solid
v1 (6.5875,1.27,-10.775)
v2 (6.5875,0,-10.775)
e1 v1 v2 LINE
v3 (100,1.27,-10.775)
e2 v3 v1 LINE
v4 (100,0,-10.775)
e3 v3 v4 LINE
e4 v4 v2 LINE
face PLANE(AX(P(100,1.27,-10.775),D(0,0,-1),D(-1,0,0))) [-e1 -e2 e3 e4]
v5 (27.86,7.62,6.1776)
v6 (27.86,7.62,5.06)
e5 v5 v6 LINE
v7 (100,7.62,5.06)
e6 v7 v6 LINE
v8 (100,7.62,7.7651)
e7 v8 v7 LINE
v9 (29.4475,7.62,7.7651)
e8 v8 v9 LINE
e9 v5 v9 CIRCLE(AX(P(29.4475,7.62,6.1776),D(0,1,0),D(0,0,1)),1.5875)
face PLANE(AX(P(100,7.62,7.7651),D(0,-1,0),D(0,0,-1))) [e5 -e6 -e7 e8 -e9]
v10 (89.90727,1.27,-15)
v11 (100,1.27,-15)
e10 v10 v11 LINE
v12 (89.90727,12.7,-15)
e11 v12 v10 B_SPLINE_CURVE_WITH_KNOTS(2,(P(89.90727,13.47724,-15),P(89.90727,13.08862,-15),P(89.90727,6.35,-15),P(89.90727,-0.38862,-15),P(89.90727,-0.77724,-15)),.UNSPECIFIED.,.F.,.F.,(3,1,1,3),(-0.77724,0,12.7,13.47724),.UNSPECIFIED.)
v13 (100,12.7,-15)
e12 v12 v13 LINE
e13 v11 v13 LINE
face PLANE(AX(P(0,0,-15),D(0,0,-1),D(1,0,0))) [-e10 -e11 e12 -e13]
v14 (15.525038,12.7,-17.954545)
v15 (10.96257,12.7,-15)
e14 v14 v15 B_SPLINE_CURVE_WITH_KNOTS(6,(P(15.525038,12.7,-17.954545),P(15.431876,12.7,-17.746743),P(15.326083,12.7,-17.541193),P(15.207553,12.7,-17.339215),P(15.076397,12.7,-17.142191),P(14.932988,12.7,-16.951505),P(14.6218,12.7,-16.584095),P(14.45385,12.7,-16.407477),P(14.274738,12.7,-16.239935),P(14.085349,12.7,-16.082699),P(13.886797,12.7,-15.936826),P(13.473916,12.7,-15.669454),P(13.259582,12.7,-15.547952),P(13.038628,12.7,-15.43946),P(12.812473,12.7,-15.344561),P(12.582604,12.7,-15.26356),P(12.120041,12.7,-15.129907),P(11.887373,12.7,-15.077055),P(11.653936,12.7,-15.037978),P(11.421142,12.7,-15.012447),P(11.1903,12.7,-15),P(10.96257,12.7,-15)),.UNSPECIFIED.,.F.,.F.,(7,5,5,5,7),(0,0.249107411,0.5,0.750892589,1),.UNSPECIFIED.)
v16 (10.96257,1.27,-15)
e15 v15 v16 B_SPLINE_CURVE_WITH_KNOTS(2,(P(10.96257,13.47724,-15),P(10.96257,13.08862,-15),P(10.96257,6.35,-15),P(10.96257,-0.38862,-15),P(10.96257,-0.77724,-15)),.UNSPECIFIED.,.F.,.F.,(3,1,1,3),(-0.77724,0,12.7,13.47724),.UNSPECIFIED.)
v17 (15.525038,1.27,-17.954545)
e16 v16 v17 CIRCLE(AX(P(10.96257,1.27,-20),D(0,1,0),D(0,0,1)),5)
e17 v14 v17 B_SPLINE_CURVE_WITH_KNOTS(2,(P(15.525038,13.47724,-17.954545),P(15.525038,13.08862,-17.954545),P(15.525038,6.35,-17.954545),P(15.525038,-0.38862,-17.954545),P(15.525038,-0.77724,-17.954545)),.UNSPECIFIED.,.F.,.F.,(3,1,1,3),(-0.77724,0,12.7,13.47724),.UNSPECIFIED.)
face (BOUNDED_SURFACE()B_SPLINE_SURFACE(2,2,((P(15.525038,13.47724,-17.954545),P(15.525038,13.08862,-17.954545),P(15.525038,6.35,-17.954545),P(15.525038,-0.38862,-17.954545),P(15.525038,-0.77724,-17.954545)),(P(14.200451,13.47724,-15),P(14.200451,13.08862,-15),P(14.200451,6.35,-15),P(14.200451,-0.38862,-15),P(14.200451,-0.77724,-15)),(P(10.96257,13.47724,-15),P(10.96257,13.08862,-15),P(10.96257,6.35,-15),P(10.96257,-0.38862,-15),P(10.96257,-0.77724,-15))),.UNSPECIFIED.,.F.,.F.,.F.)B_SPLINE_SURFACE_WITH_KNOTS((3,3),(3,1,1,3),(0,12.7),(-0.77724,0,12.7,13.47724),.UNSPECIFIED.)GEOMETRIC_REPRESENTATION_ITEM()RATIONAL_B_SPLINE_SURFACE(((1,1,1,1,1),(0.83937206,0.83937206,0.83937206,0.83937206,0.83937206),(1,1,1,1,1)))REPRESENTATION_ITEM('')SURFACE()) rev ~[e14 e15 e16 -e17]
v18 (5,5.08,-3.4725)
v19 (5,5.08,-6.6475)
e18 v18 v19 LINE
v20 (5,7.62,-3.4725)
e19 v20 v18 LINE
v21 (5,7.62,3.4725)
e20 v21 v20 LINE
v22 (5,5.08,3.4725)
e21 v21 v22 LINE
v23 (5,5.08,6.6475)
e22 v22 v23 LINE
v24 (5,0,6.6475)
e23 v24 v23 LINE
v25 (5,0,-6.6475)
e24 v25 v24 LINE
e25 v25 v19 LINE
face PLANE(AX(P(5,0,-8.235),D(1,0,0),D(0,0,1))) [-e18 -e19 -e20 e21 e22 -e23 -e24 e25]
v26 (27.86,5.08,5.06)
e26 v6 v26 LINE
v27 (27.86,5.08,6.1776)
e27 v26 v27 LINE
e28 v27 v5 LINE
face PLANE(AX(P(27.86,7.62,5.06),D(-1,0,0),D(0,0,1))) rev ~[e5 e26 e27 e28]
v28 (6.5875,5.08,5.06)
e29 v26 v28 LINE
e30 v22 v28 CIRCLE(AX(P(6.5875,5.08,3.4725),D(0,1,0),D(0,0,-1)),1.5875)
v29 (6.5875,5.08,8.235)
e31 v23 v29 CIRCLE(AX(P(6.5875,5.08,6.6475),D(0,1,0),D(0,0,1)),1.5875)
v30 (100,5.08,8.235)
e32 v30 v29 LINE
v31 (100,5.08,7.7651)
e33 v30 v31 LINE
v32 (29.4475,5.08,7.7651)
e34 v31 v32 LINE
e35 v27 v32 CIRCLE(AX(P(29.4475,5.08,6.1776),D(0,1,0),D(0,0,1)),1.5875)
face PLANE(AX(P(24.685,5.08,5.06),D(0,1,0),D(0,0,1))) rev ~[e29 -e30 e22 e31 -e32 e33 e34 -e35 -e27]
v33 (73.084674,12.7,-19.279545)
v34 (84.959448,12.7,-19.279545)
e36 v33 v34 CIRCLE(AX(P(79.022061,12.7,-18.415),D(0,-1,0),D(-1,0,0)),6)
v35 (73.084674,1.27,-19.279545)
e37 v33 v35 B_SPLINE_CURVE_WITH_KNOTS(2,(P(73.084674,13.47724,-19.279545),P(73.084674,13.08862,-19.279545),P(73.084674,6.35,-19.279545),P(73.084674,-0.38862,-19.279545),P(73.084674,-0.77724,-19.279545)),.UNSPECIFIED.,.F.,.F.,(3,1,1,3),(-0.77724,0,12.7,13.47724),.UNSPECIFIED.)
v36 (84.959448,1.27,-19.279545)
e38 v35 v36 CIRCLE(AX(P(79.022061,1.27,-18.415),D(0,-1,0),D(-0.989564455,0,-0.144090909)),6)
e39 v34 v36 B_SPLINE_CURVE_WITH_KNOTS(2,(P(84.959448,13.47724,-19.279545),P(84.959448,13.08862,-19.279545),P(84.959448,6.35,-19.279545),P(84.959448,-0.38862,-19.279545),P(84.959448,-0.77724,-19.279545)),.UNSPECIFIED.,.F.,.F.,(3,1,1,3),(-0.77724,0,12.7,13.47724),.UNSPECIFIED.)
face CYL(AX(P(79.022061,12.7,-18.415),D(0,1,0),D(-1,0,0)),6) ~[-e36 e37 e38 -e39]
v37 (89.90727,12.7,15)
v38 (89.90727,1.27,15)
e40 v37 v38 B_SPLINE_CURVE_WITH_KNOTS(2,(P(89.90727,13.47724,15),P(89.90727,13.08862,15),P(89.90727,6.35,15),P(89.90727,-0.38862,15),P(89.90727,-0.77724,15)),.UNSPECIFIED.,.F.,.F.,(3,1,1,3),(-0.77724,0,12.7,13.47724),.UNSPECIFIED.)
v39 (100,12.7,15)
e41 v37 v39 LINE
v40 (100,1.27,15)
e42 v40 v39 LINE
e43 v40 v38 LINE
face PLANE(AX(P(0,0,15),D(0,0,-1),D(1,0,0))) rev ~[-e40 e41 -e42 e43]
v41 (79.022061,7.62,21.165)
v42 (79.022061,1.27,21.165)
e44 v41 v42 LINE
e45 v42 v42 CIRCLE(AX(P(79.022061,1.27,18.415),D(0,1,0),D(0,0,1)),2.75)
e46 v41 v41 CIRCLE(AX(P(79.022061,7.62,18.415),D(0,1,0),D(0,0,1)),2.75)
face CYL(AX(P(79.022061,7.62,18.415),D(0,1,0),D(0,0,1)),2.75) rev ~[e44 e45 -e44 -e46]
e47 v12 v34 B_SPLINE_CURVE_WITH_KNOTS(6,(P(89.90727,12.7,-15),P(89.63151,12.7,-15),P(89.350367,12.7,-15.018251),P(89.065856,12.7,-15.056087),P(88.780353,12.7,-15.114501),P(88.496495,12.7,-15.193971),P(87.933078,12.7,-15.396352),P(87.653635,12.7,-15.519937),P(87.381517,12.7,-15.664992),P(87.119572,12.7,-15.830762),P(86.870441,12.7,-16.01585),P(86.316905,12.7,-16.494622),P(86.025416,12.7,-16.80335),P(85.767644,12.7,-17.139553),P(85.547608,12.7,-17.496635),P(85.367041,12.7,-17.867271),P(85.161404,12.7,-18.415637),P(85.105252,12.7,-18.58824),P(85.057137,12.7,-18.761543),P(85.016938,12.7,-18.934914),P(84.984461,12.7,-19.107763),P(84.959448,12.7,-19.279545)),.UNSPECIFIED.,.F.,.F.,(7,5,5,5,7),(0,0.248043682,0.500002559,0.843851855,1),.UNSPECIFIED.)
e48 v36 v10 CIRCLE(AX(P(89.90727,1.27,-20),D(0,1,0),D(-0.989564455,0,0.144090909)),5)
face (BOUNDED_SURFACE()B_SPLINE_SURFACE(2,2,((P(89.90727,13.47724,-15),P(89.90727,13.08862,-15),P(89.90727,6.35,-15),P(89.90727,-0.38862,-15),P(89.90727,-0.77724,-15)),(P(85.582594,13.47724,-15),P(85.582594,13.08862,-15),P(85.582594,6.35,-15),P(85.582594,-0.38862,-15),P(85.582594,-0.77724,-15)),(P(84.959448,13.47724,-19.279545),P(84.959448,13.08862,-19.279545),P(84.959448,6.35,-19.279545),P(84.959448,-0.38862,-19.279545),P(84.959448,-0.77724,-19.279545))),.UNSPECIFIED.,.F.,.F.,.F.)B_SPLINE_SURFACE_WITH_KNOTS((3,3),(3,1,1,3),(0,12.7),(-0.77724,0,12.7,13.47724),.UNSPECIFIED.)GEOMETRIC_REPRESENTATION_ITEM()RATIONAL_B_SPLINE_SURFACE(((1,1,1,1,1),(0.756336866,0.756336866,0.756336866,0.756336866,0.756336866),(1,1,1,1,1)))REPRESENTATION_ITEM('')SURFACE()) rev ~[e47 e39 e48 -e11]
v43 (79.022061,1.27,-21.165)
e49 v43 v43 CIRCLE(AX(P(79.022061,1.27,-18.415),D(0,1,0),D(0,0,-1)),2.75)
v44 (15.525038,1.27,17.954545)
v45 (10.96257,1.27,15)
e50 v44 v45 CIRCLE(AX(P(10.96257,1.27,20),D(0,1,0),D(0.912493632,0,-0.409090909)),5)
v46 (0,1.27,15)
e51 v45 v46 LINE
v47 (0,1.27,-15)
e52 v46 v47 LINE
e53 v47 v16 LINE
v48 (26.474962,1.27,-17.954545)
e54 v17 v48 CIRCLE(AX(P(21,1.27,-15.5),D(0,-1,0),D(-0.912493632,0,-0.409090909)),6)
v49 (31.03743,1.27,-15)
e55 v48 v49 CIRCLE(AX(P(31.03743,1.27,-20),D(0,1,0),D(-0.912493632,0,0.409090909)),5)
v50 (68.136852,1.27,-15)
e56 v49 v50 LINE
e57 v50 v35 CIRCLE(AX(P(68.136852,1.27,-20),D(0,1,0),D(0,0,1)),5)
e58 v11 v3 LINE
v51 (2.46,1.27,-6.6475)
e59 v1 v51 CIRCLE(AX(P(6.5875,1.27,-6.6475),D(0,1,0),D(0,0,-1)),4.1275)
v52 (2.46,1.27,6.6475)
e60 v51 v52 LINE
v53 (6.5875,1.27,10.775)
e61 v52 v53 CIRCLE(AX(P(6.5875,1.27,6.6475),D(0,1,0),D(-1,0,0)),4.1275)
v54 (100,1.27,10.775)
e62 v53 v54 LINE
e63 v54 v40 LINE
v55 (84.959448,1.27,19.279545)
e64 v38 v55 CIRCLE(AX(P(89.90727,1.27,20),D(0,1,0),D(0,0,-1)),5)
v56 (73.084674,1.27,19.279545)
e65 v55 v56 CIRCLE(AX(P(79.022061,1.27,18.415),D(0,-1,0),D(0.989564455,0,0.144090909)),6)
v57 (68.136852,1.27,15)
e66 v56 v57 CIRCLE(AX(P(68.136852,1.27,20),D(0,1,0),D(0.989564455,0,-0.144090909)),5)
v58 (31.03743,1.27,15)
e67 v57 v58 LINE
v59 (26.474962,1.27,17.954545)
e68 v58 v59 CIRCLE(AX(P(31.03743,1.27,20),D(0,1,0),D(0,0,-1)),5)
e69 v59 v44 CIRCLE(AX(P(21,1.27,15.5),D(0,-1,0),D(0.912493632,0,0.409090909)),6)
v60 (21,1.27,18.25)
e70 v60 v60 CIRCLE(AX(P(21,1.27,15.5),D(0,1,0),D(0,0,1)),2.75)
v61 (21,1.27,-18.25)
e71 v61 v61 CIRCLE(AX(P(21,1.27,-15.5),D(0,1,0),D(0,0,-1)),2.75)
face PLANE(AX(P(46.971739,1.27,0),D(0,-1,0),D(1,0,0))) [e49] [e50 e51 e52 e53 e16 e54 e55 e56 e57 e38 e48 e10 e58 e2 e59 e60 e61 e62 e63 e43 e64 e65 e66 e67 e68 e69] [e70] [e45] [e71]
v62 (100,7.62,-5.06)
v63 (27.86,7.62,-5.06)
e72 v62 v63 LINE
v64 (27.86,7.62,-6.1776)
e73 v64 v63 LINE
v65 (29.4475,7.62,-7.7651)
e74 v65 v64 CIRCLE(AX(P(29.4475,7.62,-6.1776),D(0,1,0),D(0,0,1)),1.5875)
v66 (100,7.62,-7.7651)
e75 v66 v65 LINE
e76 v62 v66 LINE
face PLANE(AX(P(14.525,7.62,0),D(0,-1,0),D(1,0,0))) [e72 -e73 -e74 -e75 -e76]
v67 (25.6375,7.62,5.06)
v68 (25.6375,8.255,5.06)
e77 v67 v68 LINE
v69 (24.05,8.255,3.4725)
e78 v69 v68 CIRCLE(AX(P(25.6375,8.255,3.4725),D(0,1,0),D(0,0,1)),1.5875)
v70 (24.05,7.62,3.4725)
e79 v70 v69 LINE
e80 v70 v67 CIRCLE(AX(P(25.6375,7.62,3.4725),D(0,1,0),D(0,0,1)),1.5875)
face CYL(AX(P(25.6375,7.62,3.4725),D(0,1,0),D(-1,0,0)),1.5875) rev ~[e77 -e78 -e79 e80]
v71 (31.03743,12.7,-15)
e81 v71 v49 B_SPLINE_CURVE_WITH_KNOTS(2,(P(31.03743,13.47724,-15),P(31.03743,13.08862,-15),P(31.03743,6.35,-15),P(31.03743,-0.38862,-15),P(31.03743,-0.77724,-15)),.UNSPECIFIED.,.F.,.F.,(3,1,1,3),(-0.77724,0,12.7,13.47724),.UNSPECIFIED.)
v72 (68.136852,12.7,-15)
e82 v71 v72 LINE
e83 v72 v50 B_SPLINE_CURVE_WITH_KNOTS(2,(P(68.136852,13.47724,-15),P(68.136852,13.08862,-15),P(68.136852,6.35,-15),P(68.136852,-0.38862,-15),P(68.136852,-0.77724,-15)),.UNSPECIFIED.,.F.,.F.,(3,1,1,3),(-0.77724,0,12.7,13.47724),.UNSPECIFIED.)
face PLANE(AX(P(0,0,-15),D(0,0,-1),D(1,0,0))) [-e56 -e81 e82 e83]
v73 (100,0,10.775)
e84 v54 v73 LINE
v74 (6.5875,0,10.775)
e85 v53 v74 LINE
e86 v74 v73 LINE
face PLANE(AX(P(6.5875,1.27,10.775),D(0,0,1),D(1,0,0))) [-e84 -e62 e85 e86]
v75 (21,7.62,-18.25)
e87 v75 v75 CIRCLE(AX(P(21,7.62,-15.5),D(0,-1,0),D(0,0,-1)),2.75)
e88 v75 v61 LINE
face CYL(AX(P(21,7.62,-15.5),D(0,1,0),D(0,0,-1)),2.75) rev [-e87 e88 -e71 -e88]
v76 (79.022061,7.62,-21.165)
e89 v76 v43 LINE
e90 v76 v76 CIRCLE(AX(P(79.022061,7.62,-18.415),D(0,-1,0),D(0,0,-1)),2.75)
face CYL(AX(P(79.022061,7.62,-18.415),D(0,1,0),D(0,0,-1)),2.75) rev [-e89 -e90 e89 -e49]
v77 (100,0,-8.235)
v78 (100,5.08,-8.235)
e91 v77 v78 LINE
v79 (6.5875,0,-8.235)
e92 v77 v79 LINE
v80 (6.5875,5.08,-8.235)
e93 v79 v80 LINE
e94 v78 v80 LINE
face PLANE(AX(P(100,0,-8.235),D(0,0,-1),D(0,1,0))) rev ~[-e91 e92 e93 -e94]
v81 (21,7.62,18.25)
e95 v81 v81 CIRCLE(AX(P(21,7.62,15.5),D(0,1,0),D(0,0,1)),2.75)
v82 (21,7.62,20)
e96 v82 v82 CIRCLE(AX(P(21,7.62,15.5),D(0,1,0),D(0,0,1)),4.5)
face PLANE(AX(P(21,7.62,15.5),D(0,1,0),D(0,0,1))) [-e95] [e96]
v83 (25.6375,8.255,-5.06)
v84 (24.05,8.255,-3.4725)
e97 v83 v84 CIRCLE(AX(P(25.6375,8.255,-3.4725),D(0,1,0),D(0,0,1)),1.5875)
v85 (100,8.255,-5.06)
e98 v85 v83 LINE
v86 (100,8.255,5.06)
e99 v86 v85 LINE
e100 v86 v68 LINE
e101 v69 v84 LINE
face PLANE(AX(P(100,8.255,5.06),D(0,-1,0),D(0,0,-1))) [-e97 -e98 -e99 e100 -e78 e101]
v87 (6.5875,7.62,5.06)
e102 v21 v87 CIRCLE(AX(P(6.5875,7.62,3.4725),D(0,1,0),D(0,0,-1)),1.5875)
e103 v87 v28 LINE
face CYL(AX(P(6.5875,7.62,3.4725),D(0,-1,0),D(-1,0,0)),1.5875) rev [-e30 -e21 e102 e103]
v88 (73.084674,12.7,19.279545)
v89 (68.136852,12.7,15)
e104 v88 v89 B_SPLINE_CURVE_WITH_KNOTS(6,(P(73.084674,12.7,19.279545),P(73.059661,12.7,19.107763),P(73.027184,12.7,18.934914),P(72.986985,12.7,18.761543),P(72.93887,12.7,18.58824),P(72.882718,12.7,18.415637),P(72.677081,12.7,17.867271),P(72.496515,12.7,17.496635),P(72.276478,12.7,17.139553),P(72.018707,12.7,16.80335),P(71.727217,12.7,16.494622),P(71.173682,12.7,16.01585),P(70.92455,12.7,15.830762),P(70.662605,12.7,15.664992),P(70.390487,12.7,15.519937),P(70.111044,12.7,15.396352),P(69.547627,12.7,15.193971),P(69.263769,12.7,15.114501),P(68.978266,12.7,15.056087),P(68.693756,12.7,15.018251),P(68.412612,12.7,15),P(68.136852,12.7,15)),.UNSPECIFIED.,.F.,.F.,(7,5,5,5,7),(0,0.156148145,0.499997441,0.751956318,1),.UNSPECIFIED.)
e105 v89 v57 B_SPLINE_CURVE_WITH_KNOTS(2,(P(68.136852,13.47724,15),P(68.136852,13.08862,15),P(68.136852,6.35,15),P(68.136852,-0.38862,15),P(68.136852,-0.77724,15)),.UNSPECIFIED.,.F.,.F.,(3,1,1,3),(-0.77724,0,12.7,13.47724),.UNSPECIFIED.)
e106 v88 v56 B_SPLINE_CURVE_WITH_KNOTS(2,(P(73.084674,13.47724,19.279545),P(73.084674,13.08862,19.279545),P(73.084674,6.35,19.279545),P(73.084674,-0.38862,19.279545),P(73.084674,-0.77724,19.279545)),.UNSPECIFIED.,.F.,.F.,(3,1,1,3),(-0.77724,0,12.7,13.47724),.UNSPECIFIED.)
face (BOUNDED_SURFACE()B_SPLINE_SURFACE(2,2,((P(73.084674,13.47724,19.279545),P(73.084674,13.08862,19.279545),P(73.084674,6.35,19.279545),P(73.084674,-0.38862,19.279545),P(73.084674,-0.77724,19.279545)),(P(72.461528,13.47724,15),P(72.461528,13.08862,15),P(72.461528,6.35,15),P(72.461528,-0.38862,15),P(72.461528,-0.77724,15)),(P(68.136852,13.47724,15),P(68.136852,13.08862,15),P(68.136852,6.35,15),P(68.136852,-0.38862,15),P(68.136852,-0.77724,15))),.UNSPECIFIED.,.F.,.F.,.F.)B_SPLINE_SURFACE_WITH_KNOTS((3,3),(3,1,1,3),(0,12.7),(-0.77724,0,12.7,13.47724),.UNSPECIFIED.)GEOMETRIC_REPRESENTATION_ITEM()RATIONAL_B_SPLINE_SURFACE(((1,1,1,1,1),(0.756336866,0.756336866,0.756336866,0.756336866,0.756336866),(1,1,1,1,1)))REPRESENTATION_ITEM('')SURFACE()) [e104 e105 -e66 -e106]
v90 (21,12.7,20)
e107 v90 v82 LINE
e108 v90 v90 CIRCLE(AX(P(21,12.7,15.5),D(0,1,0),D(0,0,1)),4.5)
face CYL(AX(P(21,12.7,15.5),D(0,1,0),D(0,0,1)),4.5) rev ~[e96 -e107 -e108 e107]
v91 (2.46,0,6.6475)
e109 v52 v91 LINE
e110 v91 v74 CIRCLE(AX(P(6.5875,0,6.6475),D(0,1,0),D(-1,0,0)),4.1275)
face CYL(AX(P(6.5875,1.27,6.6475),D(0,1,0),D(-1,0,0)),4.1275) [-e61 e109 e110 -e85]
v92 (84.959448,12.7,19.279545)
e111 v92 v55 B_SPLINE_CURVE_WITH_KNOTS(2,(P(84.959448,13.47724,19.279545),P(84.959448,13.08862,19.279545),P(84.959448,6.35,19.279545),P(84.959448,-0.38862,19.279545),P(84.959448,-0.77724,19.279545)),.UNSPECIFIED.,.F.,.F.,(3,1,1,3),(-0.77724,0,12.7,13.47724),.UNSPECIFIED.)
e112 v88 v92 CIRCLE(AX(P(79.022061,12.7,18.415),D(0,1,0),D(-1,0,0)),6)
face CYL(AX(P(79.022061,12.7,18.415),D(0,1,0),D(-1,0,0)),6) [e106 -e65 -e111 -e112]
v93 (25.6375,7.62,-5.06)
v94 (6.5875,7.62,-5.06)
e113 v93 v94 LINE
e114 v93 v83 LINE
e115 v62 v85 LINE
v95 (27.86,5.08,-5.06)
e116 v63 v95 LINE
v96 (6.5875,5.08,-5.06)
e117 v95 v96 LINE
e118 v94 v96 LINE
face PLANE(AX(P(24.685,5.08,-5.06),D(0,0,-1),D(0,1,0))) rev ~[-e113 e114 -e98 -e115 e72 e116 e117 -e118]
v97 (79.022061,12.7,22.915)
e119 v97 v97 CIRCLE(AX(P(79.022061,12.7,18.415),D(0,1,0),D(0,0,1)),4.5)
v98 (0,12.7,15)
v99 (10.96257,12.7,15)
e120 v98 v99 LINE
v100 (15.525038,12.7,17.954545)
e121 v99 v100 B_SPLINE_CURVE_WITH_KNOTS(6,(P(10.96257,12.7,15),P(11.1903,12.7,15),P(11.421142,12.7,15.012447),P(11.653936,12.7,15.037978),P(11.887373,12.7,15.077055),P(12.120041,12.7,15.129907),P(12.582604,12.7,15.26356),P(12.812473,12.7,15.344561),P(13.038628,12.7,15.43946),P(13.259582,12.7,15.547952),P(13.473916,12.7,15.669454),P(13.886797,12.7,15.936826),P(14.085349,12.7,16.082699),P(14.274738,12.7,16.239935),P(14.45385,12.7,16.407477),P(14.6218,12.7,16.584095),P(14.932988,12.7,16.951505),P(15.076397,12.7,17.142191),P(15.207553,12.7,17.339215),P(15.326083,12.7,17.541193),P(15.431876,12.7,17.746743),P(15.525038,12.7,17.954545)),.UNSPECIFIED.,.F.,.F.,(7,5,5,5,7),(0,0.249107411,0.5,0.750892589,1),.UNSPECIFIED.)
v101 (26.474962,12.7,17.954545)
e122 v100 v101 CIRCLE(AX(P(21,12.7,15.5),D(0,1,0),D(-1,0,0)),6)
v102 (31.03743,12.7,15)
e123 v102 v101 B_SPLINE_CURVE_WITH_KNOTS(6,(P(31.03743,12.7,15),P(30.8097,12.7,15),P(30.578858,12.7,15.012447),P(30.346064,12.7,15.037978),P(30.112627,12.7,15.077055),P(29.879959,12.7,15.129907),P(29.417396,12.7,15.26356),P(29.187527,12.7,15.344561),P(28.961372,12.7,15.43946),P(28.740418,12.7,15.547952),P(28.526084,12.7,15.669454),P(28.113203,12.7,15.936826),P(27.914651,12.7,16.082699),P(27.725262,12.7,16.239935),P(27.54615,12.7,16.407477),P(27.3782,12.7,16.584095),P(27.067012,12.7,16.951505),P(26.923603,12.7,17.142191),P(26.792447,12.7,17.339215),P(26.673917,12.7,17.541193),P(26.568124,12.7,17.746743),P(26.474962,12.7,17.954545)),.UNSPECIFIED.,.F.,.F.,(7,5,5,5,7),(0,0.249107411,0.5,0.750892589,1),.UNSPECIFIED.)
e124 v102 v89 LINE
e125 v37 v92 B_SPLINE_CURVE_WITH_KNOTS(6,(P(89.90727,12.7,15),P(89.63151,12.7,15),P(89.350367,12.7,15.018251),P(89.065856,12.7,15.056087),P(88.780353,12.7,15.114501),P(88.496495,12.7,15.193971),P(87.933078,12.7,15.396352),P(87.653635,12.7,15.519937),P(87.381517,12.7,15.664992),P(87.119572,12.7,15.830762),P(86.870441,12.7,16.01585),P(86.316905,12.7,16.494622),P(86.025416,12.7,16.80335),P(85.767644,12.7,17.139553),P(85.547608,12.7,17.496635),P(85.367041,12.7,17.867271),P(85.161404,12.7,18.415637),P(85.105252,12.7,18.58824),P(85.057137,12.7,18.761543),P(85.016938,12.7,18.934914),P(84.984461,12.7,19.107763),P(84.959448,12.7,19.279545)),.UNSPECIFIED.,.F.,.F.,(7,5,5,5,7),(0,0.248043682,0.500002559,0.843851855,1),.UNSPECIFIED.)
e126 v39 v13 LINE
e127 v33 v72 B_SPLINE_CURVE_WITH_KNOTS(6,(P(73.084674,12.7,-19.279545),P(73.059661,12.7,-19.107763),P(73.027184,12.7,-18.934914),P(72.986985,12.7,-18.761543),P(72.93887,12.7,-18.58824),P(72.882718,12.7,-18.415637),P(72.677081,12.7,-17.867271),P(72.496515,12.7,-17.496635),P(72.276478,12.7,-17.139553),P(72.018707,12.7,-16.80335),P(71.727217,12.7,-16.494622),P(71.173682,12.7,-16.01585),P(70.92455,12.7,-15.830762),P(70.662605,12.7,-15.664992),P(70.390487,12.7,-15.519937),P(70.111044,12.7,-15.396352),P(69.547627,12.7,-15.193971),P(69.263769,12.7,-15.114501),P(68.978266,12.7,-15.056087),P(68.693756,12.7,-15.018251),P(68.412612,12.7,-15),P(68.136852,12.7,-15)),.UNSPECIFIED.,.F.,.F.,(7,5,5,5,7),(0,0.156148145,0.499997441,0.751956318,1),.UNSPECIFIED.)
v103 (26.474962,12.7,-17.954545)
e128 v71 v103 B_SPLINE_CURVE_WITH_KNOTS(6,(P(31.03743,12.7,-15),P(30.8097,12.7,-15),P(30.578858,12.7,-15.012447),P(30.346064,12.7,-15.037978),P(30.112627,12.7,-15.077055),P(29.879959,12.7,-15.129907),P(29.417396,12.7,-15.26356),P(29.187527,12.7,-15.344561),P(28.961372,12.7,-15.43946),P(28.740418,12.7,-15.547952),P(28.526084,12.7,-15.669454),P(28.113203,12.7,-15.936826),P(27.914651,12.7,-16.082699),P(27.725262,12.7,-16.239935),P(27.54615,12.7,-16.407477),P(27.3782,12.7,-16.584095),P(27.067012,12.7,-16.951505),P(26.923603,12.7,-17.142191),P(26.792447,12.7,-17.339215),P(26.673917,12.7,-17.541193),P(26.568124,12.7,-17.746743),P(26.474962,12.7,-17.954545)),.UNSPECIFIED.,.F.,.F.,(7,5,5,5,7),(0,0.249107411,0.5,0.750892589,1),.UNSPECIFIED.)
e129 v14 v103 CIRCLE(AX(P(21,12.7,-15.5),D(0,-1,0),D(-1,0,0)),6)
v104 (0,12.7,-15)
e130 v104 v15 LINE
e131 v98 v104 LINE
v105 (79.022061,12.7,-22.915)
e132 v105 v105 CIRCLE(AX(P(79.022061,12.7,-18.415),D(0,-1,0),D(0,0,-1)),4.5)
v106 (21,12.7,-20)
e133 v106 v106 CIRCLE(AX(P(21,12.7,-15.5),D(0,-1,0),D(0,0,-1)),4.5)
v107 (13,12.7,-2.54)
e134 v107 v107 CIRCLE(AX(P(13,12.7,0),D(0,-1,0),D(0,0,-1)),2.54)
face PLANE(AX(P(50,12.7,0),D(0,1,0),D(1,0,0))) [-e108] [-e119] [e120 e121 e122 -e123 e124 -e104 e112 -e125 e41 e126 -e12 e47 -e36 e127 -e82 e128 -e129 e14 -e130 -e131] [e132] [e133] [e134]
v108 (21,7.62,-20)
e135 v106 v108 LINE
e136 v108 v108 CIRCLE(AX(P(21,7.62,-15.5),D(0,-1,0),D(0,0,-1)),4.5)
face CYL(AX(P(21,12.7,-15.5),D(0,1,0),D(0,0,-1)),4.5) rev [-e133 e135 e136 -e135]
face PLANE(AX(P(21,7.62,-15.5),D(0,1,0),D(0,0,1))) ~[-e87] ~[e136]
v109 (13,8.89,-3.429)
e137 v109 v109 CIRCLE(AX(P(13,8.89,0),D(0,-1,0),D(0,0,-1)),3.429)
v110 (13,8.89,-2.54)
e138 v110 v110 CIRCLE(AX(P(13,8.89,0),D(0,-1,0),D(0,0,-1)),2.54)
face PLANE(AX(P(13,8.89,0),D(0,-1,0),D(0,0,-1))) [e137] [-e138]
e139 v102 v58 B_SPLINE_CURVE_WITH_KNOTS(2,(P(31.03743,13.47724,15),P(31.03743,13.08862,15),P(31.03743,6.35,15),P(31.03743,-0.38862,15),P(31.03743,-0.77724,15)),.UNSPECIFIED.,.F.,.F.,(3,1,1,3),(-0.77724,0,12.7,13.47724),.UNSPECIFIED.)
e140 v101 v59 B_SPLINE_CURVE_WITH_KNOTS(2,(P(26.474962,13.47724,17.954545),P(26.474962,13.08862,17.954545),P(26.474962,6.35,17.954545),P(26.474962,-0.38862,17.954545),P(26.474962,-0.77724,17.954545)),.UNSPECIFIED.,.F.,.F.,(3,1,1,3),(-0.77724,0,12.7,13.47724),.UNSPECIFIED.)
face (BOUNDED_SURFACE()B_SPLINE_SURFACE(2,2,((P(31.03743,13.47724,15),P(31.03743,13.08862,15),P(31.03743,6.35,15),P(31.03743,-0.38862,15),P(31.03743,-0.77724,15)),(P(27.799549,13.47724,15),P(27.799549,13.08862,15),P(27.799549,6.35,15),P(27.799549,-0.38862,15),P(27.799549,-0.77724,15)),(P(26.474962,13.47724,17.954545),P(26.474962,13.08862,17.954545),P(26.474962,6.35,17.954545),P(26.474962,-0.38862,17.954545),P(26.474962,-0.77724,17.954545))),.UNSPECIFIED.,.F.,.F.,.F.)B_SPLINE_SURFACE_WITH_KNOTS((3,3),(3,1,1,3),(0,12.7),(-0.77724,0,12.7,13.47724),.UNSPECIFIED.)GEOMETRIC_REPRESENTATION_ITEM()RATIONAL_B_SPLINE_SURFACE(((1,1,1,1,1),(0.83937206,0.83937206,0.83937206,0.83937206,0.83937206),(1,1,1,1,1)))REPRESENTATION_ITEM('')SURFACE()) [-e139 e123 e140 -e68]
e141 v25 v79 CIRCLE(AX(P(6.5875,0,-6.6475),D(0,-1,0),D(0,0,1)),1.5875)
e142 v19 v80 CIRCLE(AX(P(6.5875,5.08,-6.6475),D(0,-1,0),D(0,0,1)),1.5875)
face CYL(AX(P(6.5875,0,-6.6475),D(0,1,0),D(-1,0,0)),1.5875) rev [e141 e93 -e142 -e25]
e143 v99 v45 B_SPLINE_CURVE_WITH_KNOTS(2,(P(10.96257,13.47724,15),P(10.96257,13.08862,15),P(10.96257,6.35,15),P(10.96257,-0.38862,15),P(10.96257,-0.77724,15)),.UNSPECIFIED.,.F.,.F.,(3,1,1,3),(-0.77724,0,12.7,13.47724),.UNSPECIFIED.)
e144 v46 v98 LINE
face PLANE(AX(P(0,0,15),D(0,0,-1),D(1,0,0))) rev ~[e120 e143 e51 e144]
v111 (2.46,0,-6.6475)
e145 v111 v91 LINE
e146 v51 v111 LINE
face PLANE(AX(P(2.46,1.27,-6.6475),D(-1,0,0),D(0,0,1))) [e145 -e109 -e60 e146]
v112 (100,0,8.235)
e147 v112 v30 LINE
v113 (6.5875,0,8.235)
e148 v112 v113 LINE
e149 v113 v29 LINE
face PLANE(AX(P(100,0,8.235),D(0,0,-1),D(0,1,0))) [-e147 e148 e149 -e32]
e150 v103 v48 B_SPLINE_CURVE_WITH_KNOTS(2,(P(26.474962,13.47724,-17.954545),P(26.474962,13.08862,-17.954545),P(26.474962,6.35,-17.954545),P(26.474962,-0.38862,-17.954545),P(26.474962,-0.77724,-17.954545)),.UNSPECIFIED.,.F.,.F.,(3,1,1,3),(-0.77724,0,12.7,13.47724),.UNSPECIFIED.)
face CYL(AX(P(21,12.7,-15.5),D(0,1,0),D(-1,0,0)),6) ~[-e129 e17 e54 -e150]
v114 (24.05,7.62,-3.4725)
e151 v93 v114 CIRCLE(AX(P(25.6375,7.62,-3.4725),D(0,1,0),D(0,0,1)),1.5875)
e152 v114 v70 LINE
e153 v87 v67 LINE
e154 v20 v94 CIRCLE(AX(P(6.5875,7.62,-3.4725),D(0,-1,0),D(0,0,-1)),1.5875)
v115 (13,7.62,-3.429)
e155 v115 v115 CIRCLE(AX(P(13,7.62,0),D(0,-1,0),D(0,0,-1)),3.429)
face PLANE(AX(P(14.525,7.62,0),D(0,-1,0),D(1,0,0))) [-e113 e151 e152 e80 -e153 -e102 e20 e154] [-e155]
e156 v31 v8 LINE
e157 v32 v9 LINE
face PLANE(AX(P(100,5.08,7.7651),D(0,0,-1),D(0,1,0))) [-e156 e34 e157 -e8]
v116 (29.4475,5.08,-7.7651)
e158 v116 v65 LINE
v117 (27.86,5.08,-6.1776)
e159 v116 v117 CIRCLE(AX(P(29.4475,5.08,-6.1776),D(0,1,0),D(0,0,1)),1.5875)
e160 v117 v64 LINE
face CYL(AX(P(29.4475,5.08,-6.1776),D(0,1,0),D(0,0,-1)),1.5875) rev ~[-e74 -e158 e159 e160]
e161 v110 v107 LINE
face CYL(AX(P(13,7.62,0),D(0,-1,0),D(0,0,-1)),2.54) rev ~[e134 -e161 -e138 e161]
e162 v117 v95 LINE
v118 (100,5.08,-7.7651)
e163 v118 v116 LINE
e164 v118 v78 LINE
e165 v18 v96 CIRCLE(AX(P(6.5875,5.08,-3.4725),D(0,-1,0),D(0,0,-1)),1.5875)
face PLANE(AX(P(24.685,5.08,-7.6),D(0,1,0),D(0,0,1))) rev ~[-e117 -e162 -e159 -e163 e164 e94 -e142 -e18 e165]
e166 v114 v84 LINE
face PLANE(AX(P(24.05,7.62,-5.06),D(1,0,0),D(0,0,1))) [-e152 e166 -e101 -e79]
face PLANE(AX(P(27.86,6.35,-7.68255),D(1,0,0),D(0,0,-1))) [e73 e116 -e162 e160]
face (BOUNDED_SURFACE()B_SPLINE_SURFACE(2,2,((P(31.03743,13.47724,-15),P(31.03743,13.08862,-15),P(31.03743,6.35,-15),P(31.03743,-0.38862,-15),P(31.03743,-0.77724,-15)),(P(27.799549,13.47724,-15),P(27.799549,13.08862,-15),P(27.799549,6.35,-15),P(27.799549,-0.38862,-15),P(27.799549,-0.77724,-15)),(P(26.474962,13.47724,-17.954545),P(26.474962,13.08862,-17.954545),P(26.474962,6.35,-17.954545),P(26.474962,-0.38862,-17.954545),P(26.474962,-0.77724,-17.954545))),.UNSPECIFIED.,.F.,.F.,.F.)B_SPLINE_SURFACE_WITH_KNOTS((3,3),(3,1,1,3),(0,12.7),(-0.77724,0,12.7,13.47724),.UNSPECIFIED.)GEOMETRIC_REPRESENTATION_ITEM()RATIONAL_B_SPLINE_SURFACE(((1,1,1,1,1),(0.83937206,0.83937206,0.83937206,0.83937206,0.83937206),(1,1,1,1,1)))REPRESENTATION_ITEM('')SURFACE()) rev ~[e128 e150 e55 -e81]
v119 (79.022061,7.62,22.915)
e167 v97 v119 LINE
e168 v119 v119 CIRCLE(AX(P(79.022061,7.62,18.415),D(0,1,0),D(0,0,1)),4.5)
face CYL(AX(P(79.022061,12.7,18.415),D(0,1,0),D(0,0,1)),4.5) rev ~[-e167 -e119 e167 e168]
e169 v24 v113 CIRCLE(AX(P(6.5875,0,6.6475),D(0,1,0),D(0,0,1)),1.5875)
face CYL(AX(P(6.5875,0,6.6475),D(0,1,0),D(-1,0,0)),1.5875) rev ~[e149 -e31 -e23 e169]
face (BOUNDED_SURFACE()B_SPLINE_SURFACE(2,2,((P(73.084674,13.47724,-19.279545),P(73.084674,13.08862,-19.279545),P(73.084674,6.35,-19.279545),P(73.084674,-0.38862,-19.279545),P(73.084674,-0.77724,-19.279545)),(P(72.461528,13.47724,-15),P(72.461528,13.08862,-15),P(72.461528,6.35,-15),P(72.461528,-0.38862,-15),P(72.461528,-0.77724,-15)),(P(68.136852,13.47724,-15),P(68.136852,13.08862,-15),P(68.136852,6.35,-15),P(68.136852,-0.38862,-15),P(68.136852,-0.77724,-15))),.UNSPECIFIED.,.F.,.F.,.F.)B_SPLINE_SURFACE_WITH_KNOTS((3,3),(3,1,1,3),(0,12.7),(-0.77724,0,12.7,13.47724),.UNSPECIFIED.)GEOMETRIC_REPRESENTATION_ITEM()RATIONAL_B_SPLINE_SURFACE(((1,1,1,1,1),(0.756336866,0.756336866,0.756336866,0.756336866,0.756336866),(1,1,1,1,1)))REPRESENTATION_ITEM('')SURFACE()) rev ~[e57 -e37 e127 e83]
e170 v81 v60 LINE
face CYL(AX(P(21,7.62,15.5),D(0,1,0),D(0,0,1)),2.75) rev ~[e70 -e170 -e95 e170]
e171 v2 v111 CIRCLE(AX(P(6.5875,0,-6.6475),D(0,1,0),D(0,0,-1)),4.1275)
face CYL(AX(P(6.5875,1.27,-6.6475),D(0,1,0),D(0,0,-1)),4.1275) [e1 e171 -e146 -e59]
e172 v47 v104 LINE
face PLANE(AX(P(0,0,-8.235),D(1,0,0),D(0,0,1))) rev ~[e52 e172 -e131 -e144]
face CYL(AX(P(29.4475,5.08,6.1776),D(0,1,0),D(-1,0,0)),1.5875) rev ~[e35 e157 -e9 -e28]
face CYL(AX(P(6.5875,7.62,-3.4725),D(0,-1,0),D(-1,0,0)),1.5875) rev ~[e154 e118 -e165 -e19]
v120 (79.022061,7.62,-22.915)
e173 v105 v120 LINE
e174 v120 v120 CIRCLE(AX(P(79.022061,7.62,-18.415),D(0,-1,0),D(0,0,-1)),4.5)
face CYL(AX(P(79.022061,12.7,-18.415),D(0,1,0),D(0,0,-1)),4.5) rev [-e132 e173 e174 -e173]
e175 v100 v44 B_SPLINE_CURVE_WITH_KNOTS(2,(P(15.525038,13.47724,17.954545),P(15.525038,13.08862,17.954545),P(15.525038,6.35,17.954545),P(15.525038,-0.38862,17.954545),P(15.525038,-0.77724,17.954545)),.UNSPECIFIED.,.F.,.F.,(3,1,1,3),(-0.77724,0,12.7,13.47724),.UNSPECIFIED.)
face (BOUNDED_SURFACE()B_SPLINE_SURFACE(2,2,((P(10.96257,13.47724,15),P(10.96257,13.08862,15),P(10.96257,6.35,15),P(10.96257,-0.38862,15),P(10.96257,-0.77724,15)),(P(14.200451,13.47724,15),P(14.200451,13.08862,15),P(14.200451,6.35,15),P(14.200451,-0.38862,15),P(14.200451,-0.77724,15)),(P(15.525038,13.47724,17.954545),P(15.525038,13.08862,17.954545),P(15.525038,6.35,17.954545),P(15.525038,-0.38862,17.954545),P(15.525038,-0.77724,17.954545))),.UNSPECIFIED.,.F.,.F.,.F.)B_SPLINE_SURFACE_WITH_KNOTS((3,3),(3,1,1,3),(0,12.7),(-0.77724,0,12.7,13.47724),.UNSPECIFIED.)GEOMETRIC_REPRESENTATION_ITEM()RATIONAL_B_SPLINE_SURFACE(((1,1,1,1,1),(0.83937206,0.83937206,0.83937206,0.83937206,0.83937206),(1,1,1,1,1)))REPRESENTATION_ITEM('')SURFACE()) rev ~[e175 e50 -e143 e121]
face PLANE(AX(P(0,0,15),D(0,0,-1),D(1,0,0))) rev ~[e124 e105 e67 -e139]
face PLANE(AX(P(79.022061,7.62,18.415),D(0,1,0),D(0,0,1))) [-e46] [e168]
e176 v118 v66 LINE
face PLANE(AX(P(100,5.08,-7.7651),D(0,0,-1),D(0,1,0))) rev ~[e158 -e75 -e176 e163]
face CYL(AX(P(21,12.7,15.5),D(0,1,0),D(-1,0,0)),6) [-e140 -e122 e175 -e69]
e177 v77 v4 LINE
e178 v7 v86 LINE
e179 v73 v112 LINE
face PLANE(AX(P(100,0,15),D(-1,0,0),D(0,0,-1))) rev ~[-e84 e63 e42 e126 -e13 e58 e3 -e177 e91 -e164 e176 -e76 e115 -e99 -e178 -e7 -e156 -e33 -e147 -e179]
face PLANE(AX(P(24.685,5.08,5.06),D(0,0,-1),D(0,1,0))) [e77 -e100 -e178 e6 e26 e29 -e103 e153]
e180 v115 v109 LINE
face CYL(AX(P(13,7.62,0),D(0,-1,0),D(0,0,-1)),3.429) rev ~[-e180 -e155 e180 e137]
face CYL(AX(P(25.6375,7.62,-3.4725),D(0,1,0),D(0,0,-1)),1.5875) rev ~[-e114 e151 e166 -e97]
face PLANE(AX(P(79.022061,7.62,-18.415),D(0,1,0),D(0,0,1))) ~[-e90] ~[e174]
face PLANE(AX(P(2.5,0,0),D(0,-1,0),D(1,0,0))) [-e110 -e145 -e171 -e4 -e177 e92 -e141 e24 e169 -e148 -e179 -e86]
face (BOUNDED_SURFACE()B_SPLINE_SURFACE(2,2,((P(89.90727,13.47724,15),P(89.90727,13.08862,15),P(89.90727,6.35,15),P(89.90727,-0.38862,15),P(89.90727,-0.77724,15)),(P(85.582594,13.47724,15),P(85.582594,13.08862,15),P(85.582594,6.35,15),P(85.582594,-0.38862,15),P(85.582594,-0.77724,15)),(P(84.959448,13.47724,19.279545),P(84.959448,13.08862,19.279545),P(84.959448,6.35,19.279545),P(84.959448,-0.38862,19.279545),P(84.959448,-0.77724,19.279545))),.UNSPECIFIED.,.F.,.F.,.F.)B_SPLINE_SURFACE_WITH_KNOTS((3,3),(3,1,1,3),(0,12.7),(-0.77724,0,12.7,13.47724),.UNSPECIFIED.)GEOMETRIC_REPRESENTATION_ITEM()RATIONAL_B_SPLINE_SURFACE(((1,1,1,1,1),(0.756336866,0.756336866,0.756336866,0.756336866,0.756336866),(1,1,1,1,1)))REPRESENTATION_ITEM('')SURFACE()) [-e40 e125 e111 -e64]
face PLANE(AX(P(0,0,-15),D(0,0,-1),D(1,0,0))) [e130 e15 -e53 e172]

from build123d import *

# Parameters (mm, degrees)
SKETCH1_W           = 100
SKETCH1_H           = 30
BOSS_EXTRUDE1_DEPTH = 12.7
SKETCH2_W           = 15.2
SKETCH2_H           = 7.62
CUT_EXTRUDE1_DEPTH  = 102.913149299
SKETCH3_W           = 0.635
SKETCH3_H           = 5.08
SKETCH3_W_2         = 10.12
SKETCH3_H_2         = 0.635
CUT_EXTRUDE2_DEPTH  = 102.913149299
BOSS_EXTRUDE2_REACH = 103.913
SKETCH4_W           = 5
SKETCH4_H           = 16.47
FILLET7_R           = 1.5875
FILLET8_R           = 1.5875
BOSS_EXTRUDE3_REACH = 103.405
SKETCH9_W           = 19.05
SKETCH9_H           = 10.12
SKETCH7_R           = 2.54
CUT_EXTRUDE4_DEPTH  = 102.405445613
SKETCH10_R          = 3.429
CUT_EXTRUDE6_DEPTH  = 1.27
FILLET5_R           = 1.5875
BOSS_EXTRUDE4_DEPTH = 12.7
SKETCH12_R          = 4.5
CUT_EXTRUDE7_DEPTH  = 5.08
SKETCH13_R          = 2.75
CUT_EXTRUDE8_DEPTH  = 104.218974152
FILLET6_R           = 5
CUT_EXTRUDE9_START  = -1.27
CUT_EXTRUDE9_DEPTH  = 1.27
SKETCH25_W          = 3.175
SKETCH25_H          = 2.54
BOSS_EXTRUDE5_DEPTH = 2.54
BOSS_EXTRUDE6_REACH = 82.186
SKETCH26_W          = 2.54
SKETCH26_H          = 2.54
SKETCH31_W          = 0.1651
SKETCH31_H          = 2.54
ADJUST_DEPTH        = 72.14
FILLET9_R           = 1.5875


with BuildPart() as part:
    # Sketch1 → Boss-Extrude1 (new body)
    with BuildSketch(Plane(origin=(0, 0, 0), x_dir=(1, 0, 0), z_dir=(0, 1, 0))):
        with Locations((50, 0)):
            Rectangle(SKETCH1_W, SKETCH1_H)
    extrude(amount=BOSS_EXTRUDE1_DEPTH)

    # Sketch2 → Cut-Extrude1 (cut, through all)
    with BuildSketch(Plane(origin=(100, 0, 0), x_dir=(0, 0, -1), z_dir=(1, 0, 0))):
        with Locations((0, 3.81)):
            Rectangle(SKETCH2_W, SKETCH2_H)
    extrude(amount=-CUT_EXTRUDE1_DEPTH, mode=Mode.SUBTRACT)

    # Sketch3 → Cut-Extrude2 (cut, through all)
    with BuildSketch(Plane(origin=(100, 0, 0), x_dir=(0, 0, -1), z_dir=(1, 0, 0))):
        with Locations((-7.9175, 2.54)):
            Rectangle(SKETCH3_W, SKETCH3_H)
        with Locations((0, 7.9375)):
            Rectangle(SKETCH3_W_2, SKETCH3_H_2)
        with Locations((7.9175, 2.54)):
            Rectangle(SKETCH3_W, SKETCH3_H)
    extrude(amount=-CUT_EXTRUDE2_DEPTH, mode=Mode.SUBTRACT)

    # Sketch4 → Boss-Extrude2 (add, up to next)
    with BuildSketch(Plane.XZ, mode=Mode.PRIVATE) as boss_extrude2_sk1:
        with Locations((2.5, 0)):
            Rectangle(SKETCH4_W, SKETCH4_H)
    boss_extrude2_tool1 = extrude(boss_extrude2_sk1.sketch, amount=-BOSS_EXTRUDE2_REACH, mode=Mode.PRIVATE) - part.part
    add(boss_extrude2_tool1.solids().sort_by_distance((2.5, 0, 0))[0])

    # Fillet7
    fillet7_edges = [part.edges().sort_by_distance(p)[0] for p in [
        (5, 6.35, 7.6),
        (5, 6.35, -7.6),
    ]]
    fillet(fillet7_edges, radius=FILLET7_R)

    # Fillet8
    fillet8_edges = [part.edges().sort_by_distance(p)[0] for p in [
        (5, 2.54, 8.235),
        (5, 2.54, -8.235),
    ]]
    fillet(fillet8_edges, radius=FILLET8_R)

    # Sketch9 → Boss-Extrude3 (add, up to next)
    with BuildSketch(Plane.XZ.offset(-7.62), mode=Mode.PRIVATE) as boss_extrude3_sk1:
        with Locations((14.525, 0)):
            Rectangle(SKETCH9_W, SKETCH9_H)
    boss_extrude3_tool1 = extrude(boss_extrude3_sk1.sketch, amount=-BOSS_EXTRUDE3_REACH, mode=Mode.PRIVATE) - part.part
    add(boss_extrude3_tool1.solids().sort_by_distance((14.525, 7.62, 0))[0])

    # Sketch7 → Cut-Extrude4 (cut, through all)
    with BuildSketch(Plane.XZ.offset(-7.62)):
        with Locations(Location((13, 0, 0), (0, 0, 270))):
            Circle(SKETCH7_R)
    extrude(amount=-CUT_EXTRUDE4_DEPTH, mode=Mode.SUBTRACT)

    # Sketch10 → Cut-Extrude6 (cut)
    with BuildSketch(Plane.XZ.offset(-7.62)):
        with Locations(Location((13, 0, 0), (0, 0, 270))):
            Circle(SKETCH10_R)
    extrude(amount=-CUT_EXTRUDE6_DEPTH, mode=Mode.SUBTRACT)

    # Fillet5
    fillet5_edges = [part.edges().sort_by_distance(p)[0] for p in [
        (24.05, 7.9375, 5.06),
        (24.05, 7.9375, -5.06),
    ]]
    fillet(fillet5_edges, radius=FILLET5_R)

    # Sketch11 → Boss-Extrude4 (add)
    with BuildSketch(Plane(origin=(0, 12.7, 0), x_dir=(1, 0, 0), z_dir=(0, 1, 0))):
        with BuildLine():
            Line((73, -15), (73.022061133, -18.415))
            ThreePointArc((73.022061133, -18.415), (79.022061133, -24.415), (85.022061133, -18.415))
            Line((85.022061133, -18.415), (85, -15))
            Line((85, -15), (73, -15))
        make_face()
        with BuildLine():
            Line((27, -15.5), (27, -15))
            Line((27, -15), (15, -15))
            Line((15, -15), (15, -15.5))
            ThreePointArc((15, -15.5), (21, -21.5), (27, -15.5))
        make_face()
    boss_extrude4 = extrude(amount=-BOSS_EXTRUDE4_DEPTH)

    # Sketch12 → Cut-Extrude7 (cut)
    with BuildSketch(Plane(origin=(0, 12.7, 0), x_dir=(1, 0, 0), z_dir=(0, 1, 0))):
        with Locations(Location((21, -15.5, 0), (0, 0, 270))):
            Circle(SKETCH12_R)
        with Locations(Location((79.022061133, -18.415, 0), (0, 0, 270))):
            Circle(SKETCH12_R)
    cut_extrude7 = extrude(amount=-CUT_EXTRUDE7_DEPTH, mode=Mode.SUBTRACT)

    # Sketch13 → Cut-Extrude8 (cut, through all)
    with BuildSketch(Plane(origin=(0, 7.62, 0), x_dir=(1, 0, 0), z_dir=(0, 1, 0))):
        with Locations(Location((21, -15.5, 0), (0, 0, 270))):
            Circle(SKETCH13_R)
        with Locations(Location((79.022061133, -18.415, 0), (0, 0, 270))):
            Circle(SKETCH13_R)
    cut_extrude8 = extrude(amount=-CUT_EXTRUDE8_DEPTH, mode=Mode.SUBTRACT)

    # Mirror1: Boss-Extrude4, Cut-Extrude7, Cut-Extrude8 across plane
    add(boss_extrude4.mirror(Plane.XY))
    add(cut_extrude7.mirror(Plane.XY), mode=Mode.SUBTRACT)
    add(cut_extrude8.mirror(Plane.XY), mode=Mode.SUBTRACT)

    # Fillet6
    fillet6_edges = [part.edges().sort_by_distance(p)[0] for p in [
        (15, 6.35, 15),
        (27, 6.35, 15),
        (73, 6.35, 15),
        (85, 6.35, 15),
        (85, 6.35, -15),
        (73, 6.35, -15),
        (15, 6.35, -15),
        (27, 6.35, -15),
    ]]
    fillet(fillet6_edges, radius=FILLET6_R)

    # Sketch24 → Cut-Extrude9 (cut)
    with BuildSketch(Plane.XZ.offset(CUT_EXTRUDE9_START)):
        with BuildLine():
            Line((100, -10.775), (6.5875, -10.775))
            ThreePointArc((6.5875, -10.775), (3.668916761, -9.566083239), (2.46, -6.6475))
            Line((2.46, -6.6475), (2.46, 6.6475))
            ThreePointArc((2.46, 6.6475), (3.668916761, 9.566083239), (6.5875, 10.775))
            Line((6.5875, 10.775), (100, 10.775))
            Line((100, 10.775), (100, 15))
            Line((100, 15), (89.907270135, 15))
            ThreePointArc((89.907270135, 15), (86.636358391, 16.218315671), (84.959447861, 19.279545455))
            ThreePointArc((84.959447861, 19.279545455), (79.022061133, 24.415), (73.084674406, 19.279545455))
            ThreePointArc((73.084674406, 19.279545455), (71.407763876, 16.218315671), (68.136852132, 15))
            Line((68.136852132, 15), (31.03742995, 15))
            ThreePointArc((31.03742995, 15), (28.319643417, 15.803139702), (26.474961791, 17.954545455))
            ThreePointArc((26.474961791, 17.954545455), (21, 21.5), (15.525038209, 17.954545455))
            ThreePointArc((15.525038209, 17.954545455), (13.680356583, 15.803139702), (10.96257005, 15))
            Line((10.96257005, 15), (0, 15))
            Line((0, 15), (0, -15))
            Line((0, -15), (10.96257005, -15))
            ThreePointArc((10.96257005, -15), (13.680356583, -15.803139702), (15.525038209, -17.954545455))
            ThreePointArc((15.525038209, -17.954545455), (21, -21.5), (26.474961791, -17.954545455))
            ThreePointArc((26.474961791, -17.954545455), (28.319643417, -15.803139702), (31.03742995, -15))
            Line((31.03742995, -15), (68.136852132, -15))
            ThreePointArc((68.136852132, -15), (71.407763876, -16.218315671), (73.084674406, -19.279545455))
            ThreePointArc((73.084674406, -19.279545455), (79.022061133, -24.415), (84.959447861, -19.279545455))
            ThreePointArc((84.959447861, -19.279545455), (86.636358391, -16.218315671), (89.907270135, -15))
            Line((89.907270135, -15), (100, -15))
            Line((100, -15), (100, -10.775))
        make_face()
    extrude(amount=CUT_EXTRUDE9_DEPTH, mode=Mode.SUBTRACT)

    # Sketch25 → Boss-Extrude5 (add)
    with BuildSketch(Plane.XZ.offset(-7.62)):
        with Locations((26.2725, 6.33)):
            Rectangle(SKETCH25_W, SKETCH25_H)
        with Locations((26.2725, -6.33)):
            Rectangle(SKETCH25_W, SKETCH25_H)
    extrude(amount=BOSS_EXTRUDE5_DEPTH)

    # Sketch26 → Boss-Extrude6 (add, up to next)
    with BuildSketch(Plane.ZY.offset(-24.685), mode=Mode.PRIVATE) as boss_extrude6_sk1:
        with Locations((6.33, 6.35)):
            Rectangle(SKETCH26_W, SKETCH26_H)
    boss_extrude6_tool1 = extrude(boss_extrude6_sk1.sketch, amount=BOSS_EXTRUDE6_REACH, mode=Mode.PRIVATE) - part.part
    # Sketch26 → Boss-Extrude6 (add, up to next)
    with BuildSketch(Plane.ZY.offset(-24.685), mode=Mode.PRIVATE) as boss_extrude6_sk2:
        with Locations((-6.33, 6.35)):
            Rectangle(SKETCH26_W, SKETCH26_H)
    boss_extrude6_tool2 = extrude(boss_extrude6_sk2.sketch, amount=BOSS_EXTRUDE6_REACH, mode=Mode.PRIVATE) - part.part
    add(boss_extrude6_tool1.solids().sort_by_distance((24.685, 6.35, 6.33))[0])
    add(boss_extrude6_tool2.solids().sort_by_distance((24.685, 6.35, -6.33))[0])

    # Sketch31 → adjust (cut)
    with BuildSketch(Plane(origin=(100, 0, 0), x_dir=(0, 0, -1), z_dir=(1, 0, 0))):
        with Locations((7.68255, 6.35)):
            Rectangle(SKETCH31_W, SKETCH31_H)
        with Locations((-7.68255, 6.35)):
            Rectangle(SKETCH31_W, SKETCH31_H)
    extrude(amount=-ADJUST_DEPTH, mode=Mode.SUBTRACT)

    # Fillet9
    fillet9_edges = [part.edges().sort_by_distance(p)[0] for p in [
        (5, 6.35, 5.06),
        (5, 6.35, -5.06),
        (27.86, 6.35, 7.7651),
        (27.86, 6.35, -7.7651),
    ]]
    fillet(fillet9_edges, radius=FILLET9_R)


solid = part.part
